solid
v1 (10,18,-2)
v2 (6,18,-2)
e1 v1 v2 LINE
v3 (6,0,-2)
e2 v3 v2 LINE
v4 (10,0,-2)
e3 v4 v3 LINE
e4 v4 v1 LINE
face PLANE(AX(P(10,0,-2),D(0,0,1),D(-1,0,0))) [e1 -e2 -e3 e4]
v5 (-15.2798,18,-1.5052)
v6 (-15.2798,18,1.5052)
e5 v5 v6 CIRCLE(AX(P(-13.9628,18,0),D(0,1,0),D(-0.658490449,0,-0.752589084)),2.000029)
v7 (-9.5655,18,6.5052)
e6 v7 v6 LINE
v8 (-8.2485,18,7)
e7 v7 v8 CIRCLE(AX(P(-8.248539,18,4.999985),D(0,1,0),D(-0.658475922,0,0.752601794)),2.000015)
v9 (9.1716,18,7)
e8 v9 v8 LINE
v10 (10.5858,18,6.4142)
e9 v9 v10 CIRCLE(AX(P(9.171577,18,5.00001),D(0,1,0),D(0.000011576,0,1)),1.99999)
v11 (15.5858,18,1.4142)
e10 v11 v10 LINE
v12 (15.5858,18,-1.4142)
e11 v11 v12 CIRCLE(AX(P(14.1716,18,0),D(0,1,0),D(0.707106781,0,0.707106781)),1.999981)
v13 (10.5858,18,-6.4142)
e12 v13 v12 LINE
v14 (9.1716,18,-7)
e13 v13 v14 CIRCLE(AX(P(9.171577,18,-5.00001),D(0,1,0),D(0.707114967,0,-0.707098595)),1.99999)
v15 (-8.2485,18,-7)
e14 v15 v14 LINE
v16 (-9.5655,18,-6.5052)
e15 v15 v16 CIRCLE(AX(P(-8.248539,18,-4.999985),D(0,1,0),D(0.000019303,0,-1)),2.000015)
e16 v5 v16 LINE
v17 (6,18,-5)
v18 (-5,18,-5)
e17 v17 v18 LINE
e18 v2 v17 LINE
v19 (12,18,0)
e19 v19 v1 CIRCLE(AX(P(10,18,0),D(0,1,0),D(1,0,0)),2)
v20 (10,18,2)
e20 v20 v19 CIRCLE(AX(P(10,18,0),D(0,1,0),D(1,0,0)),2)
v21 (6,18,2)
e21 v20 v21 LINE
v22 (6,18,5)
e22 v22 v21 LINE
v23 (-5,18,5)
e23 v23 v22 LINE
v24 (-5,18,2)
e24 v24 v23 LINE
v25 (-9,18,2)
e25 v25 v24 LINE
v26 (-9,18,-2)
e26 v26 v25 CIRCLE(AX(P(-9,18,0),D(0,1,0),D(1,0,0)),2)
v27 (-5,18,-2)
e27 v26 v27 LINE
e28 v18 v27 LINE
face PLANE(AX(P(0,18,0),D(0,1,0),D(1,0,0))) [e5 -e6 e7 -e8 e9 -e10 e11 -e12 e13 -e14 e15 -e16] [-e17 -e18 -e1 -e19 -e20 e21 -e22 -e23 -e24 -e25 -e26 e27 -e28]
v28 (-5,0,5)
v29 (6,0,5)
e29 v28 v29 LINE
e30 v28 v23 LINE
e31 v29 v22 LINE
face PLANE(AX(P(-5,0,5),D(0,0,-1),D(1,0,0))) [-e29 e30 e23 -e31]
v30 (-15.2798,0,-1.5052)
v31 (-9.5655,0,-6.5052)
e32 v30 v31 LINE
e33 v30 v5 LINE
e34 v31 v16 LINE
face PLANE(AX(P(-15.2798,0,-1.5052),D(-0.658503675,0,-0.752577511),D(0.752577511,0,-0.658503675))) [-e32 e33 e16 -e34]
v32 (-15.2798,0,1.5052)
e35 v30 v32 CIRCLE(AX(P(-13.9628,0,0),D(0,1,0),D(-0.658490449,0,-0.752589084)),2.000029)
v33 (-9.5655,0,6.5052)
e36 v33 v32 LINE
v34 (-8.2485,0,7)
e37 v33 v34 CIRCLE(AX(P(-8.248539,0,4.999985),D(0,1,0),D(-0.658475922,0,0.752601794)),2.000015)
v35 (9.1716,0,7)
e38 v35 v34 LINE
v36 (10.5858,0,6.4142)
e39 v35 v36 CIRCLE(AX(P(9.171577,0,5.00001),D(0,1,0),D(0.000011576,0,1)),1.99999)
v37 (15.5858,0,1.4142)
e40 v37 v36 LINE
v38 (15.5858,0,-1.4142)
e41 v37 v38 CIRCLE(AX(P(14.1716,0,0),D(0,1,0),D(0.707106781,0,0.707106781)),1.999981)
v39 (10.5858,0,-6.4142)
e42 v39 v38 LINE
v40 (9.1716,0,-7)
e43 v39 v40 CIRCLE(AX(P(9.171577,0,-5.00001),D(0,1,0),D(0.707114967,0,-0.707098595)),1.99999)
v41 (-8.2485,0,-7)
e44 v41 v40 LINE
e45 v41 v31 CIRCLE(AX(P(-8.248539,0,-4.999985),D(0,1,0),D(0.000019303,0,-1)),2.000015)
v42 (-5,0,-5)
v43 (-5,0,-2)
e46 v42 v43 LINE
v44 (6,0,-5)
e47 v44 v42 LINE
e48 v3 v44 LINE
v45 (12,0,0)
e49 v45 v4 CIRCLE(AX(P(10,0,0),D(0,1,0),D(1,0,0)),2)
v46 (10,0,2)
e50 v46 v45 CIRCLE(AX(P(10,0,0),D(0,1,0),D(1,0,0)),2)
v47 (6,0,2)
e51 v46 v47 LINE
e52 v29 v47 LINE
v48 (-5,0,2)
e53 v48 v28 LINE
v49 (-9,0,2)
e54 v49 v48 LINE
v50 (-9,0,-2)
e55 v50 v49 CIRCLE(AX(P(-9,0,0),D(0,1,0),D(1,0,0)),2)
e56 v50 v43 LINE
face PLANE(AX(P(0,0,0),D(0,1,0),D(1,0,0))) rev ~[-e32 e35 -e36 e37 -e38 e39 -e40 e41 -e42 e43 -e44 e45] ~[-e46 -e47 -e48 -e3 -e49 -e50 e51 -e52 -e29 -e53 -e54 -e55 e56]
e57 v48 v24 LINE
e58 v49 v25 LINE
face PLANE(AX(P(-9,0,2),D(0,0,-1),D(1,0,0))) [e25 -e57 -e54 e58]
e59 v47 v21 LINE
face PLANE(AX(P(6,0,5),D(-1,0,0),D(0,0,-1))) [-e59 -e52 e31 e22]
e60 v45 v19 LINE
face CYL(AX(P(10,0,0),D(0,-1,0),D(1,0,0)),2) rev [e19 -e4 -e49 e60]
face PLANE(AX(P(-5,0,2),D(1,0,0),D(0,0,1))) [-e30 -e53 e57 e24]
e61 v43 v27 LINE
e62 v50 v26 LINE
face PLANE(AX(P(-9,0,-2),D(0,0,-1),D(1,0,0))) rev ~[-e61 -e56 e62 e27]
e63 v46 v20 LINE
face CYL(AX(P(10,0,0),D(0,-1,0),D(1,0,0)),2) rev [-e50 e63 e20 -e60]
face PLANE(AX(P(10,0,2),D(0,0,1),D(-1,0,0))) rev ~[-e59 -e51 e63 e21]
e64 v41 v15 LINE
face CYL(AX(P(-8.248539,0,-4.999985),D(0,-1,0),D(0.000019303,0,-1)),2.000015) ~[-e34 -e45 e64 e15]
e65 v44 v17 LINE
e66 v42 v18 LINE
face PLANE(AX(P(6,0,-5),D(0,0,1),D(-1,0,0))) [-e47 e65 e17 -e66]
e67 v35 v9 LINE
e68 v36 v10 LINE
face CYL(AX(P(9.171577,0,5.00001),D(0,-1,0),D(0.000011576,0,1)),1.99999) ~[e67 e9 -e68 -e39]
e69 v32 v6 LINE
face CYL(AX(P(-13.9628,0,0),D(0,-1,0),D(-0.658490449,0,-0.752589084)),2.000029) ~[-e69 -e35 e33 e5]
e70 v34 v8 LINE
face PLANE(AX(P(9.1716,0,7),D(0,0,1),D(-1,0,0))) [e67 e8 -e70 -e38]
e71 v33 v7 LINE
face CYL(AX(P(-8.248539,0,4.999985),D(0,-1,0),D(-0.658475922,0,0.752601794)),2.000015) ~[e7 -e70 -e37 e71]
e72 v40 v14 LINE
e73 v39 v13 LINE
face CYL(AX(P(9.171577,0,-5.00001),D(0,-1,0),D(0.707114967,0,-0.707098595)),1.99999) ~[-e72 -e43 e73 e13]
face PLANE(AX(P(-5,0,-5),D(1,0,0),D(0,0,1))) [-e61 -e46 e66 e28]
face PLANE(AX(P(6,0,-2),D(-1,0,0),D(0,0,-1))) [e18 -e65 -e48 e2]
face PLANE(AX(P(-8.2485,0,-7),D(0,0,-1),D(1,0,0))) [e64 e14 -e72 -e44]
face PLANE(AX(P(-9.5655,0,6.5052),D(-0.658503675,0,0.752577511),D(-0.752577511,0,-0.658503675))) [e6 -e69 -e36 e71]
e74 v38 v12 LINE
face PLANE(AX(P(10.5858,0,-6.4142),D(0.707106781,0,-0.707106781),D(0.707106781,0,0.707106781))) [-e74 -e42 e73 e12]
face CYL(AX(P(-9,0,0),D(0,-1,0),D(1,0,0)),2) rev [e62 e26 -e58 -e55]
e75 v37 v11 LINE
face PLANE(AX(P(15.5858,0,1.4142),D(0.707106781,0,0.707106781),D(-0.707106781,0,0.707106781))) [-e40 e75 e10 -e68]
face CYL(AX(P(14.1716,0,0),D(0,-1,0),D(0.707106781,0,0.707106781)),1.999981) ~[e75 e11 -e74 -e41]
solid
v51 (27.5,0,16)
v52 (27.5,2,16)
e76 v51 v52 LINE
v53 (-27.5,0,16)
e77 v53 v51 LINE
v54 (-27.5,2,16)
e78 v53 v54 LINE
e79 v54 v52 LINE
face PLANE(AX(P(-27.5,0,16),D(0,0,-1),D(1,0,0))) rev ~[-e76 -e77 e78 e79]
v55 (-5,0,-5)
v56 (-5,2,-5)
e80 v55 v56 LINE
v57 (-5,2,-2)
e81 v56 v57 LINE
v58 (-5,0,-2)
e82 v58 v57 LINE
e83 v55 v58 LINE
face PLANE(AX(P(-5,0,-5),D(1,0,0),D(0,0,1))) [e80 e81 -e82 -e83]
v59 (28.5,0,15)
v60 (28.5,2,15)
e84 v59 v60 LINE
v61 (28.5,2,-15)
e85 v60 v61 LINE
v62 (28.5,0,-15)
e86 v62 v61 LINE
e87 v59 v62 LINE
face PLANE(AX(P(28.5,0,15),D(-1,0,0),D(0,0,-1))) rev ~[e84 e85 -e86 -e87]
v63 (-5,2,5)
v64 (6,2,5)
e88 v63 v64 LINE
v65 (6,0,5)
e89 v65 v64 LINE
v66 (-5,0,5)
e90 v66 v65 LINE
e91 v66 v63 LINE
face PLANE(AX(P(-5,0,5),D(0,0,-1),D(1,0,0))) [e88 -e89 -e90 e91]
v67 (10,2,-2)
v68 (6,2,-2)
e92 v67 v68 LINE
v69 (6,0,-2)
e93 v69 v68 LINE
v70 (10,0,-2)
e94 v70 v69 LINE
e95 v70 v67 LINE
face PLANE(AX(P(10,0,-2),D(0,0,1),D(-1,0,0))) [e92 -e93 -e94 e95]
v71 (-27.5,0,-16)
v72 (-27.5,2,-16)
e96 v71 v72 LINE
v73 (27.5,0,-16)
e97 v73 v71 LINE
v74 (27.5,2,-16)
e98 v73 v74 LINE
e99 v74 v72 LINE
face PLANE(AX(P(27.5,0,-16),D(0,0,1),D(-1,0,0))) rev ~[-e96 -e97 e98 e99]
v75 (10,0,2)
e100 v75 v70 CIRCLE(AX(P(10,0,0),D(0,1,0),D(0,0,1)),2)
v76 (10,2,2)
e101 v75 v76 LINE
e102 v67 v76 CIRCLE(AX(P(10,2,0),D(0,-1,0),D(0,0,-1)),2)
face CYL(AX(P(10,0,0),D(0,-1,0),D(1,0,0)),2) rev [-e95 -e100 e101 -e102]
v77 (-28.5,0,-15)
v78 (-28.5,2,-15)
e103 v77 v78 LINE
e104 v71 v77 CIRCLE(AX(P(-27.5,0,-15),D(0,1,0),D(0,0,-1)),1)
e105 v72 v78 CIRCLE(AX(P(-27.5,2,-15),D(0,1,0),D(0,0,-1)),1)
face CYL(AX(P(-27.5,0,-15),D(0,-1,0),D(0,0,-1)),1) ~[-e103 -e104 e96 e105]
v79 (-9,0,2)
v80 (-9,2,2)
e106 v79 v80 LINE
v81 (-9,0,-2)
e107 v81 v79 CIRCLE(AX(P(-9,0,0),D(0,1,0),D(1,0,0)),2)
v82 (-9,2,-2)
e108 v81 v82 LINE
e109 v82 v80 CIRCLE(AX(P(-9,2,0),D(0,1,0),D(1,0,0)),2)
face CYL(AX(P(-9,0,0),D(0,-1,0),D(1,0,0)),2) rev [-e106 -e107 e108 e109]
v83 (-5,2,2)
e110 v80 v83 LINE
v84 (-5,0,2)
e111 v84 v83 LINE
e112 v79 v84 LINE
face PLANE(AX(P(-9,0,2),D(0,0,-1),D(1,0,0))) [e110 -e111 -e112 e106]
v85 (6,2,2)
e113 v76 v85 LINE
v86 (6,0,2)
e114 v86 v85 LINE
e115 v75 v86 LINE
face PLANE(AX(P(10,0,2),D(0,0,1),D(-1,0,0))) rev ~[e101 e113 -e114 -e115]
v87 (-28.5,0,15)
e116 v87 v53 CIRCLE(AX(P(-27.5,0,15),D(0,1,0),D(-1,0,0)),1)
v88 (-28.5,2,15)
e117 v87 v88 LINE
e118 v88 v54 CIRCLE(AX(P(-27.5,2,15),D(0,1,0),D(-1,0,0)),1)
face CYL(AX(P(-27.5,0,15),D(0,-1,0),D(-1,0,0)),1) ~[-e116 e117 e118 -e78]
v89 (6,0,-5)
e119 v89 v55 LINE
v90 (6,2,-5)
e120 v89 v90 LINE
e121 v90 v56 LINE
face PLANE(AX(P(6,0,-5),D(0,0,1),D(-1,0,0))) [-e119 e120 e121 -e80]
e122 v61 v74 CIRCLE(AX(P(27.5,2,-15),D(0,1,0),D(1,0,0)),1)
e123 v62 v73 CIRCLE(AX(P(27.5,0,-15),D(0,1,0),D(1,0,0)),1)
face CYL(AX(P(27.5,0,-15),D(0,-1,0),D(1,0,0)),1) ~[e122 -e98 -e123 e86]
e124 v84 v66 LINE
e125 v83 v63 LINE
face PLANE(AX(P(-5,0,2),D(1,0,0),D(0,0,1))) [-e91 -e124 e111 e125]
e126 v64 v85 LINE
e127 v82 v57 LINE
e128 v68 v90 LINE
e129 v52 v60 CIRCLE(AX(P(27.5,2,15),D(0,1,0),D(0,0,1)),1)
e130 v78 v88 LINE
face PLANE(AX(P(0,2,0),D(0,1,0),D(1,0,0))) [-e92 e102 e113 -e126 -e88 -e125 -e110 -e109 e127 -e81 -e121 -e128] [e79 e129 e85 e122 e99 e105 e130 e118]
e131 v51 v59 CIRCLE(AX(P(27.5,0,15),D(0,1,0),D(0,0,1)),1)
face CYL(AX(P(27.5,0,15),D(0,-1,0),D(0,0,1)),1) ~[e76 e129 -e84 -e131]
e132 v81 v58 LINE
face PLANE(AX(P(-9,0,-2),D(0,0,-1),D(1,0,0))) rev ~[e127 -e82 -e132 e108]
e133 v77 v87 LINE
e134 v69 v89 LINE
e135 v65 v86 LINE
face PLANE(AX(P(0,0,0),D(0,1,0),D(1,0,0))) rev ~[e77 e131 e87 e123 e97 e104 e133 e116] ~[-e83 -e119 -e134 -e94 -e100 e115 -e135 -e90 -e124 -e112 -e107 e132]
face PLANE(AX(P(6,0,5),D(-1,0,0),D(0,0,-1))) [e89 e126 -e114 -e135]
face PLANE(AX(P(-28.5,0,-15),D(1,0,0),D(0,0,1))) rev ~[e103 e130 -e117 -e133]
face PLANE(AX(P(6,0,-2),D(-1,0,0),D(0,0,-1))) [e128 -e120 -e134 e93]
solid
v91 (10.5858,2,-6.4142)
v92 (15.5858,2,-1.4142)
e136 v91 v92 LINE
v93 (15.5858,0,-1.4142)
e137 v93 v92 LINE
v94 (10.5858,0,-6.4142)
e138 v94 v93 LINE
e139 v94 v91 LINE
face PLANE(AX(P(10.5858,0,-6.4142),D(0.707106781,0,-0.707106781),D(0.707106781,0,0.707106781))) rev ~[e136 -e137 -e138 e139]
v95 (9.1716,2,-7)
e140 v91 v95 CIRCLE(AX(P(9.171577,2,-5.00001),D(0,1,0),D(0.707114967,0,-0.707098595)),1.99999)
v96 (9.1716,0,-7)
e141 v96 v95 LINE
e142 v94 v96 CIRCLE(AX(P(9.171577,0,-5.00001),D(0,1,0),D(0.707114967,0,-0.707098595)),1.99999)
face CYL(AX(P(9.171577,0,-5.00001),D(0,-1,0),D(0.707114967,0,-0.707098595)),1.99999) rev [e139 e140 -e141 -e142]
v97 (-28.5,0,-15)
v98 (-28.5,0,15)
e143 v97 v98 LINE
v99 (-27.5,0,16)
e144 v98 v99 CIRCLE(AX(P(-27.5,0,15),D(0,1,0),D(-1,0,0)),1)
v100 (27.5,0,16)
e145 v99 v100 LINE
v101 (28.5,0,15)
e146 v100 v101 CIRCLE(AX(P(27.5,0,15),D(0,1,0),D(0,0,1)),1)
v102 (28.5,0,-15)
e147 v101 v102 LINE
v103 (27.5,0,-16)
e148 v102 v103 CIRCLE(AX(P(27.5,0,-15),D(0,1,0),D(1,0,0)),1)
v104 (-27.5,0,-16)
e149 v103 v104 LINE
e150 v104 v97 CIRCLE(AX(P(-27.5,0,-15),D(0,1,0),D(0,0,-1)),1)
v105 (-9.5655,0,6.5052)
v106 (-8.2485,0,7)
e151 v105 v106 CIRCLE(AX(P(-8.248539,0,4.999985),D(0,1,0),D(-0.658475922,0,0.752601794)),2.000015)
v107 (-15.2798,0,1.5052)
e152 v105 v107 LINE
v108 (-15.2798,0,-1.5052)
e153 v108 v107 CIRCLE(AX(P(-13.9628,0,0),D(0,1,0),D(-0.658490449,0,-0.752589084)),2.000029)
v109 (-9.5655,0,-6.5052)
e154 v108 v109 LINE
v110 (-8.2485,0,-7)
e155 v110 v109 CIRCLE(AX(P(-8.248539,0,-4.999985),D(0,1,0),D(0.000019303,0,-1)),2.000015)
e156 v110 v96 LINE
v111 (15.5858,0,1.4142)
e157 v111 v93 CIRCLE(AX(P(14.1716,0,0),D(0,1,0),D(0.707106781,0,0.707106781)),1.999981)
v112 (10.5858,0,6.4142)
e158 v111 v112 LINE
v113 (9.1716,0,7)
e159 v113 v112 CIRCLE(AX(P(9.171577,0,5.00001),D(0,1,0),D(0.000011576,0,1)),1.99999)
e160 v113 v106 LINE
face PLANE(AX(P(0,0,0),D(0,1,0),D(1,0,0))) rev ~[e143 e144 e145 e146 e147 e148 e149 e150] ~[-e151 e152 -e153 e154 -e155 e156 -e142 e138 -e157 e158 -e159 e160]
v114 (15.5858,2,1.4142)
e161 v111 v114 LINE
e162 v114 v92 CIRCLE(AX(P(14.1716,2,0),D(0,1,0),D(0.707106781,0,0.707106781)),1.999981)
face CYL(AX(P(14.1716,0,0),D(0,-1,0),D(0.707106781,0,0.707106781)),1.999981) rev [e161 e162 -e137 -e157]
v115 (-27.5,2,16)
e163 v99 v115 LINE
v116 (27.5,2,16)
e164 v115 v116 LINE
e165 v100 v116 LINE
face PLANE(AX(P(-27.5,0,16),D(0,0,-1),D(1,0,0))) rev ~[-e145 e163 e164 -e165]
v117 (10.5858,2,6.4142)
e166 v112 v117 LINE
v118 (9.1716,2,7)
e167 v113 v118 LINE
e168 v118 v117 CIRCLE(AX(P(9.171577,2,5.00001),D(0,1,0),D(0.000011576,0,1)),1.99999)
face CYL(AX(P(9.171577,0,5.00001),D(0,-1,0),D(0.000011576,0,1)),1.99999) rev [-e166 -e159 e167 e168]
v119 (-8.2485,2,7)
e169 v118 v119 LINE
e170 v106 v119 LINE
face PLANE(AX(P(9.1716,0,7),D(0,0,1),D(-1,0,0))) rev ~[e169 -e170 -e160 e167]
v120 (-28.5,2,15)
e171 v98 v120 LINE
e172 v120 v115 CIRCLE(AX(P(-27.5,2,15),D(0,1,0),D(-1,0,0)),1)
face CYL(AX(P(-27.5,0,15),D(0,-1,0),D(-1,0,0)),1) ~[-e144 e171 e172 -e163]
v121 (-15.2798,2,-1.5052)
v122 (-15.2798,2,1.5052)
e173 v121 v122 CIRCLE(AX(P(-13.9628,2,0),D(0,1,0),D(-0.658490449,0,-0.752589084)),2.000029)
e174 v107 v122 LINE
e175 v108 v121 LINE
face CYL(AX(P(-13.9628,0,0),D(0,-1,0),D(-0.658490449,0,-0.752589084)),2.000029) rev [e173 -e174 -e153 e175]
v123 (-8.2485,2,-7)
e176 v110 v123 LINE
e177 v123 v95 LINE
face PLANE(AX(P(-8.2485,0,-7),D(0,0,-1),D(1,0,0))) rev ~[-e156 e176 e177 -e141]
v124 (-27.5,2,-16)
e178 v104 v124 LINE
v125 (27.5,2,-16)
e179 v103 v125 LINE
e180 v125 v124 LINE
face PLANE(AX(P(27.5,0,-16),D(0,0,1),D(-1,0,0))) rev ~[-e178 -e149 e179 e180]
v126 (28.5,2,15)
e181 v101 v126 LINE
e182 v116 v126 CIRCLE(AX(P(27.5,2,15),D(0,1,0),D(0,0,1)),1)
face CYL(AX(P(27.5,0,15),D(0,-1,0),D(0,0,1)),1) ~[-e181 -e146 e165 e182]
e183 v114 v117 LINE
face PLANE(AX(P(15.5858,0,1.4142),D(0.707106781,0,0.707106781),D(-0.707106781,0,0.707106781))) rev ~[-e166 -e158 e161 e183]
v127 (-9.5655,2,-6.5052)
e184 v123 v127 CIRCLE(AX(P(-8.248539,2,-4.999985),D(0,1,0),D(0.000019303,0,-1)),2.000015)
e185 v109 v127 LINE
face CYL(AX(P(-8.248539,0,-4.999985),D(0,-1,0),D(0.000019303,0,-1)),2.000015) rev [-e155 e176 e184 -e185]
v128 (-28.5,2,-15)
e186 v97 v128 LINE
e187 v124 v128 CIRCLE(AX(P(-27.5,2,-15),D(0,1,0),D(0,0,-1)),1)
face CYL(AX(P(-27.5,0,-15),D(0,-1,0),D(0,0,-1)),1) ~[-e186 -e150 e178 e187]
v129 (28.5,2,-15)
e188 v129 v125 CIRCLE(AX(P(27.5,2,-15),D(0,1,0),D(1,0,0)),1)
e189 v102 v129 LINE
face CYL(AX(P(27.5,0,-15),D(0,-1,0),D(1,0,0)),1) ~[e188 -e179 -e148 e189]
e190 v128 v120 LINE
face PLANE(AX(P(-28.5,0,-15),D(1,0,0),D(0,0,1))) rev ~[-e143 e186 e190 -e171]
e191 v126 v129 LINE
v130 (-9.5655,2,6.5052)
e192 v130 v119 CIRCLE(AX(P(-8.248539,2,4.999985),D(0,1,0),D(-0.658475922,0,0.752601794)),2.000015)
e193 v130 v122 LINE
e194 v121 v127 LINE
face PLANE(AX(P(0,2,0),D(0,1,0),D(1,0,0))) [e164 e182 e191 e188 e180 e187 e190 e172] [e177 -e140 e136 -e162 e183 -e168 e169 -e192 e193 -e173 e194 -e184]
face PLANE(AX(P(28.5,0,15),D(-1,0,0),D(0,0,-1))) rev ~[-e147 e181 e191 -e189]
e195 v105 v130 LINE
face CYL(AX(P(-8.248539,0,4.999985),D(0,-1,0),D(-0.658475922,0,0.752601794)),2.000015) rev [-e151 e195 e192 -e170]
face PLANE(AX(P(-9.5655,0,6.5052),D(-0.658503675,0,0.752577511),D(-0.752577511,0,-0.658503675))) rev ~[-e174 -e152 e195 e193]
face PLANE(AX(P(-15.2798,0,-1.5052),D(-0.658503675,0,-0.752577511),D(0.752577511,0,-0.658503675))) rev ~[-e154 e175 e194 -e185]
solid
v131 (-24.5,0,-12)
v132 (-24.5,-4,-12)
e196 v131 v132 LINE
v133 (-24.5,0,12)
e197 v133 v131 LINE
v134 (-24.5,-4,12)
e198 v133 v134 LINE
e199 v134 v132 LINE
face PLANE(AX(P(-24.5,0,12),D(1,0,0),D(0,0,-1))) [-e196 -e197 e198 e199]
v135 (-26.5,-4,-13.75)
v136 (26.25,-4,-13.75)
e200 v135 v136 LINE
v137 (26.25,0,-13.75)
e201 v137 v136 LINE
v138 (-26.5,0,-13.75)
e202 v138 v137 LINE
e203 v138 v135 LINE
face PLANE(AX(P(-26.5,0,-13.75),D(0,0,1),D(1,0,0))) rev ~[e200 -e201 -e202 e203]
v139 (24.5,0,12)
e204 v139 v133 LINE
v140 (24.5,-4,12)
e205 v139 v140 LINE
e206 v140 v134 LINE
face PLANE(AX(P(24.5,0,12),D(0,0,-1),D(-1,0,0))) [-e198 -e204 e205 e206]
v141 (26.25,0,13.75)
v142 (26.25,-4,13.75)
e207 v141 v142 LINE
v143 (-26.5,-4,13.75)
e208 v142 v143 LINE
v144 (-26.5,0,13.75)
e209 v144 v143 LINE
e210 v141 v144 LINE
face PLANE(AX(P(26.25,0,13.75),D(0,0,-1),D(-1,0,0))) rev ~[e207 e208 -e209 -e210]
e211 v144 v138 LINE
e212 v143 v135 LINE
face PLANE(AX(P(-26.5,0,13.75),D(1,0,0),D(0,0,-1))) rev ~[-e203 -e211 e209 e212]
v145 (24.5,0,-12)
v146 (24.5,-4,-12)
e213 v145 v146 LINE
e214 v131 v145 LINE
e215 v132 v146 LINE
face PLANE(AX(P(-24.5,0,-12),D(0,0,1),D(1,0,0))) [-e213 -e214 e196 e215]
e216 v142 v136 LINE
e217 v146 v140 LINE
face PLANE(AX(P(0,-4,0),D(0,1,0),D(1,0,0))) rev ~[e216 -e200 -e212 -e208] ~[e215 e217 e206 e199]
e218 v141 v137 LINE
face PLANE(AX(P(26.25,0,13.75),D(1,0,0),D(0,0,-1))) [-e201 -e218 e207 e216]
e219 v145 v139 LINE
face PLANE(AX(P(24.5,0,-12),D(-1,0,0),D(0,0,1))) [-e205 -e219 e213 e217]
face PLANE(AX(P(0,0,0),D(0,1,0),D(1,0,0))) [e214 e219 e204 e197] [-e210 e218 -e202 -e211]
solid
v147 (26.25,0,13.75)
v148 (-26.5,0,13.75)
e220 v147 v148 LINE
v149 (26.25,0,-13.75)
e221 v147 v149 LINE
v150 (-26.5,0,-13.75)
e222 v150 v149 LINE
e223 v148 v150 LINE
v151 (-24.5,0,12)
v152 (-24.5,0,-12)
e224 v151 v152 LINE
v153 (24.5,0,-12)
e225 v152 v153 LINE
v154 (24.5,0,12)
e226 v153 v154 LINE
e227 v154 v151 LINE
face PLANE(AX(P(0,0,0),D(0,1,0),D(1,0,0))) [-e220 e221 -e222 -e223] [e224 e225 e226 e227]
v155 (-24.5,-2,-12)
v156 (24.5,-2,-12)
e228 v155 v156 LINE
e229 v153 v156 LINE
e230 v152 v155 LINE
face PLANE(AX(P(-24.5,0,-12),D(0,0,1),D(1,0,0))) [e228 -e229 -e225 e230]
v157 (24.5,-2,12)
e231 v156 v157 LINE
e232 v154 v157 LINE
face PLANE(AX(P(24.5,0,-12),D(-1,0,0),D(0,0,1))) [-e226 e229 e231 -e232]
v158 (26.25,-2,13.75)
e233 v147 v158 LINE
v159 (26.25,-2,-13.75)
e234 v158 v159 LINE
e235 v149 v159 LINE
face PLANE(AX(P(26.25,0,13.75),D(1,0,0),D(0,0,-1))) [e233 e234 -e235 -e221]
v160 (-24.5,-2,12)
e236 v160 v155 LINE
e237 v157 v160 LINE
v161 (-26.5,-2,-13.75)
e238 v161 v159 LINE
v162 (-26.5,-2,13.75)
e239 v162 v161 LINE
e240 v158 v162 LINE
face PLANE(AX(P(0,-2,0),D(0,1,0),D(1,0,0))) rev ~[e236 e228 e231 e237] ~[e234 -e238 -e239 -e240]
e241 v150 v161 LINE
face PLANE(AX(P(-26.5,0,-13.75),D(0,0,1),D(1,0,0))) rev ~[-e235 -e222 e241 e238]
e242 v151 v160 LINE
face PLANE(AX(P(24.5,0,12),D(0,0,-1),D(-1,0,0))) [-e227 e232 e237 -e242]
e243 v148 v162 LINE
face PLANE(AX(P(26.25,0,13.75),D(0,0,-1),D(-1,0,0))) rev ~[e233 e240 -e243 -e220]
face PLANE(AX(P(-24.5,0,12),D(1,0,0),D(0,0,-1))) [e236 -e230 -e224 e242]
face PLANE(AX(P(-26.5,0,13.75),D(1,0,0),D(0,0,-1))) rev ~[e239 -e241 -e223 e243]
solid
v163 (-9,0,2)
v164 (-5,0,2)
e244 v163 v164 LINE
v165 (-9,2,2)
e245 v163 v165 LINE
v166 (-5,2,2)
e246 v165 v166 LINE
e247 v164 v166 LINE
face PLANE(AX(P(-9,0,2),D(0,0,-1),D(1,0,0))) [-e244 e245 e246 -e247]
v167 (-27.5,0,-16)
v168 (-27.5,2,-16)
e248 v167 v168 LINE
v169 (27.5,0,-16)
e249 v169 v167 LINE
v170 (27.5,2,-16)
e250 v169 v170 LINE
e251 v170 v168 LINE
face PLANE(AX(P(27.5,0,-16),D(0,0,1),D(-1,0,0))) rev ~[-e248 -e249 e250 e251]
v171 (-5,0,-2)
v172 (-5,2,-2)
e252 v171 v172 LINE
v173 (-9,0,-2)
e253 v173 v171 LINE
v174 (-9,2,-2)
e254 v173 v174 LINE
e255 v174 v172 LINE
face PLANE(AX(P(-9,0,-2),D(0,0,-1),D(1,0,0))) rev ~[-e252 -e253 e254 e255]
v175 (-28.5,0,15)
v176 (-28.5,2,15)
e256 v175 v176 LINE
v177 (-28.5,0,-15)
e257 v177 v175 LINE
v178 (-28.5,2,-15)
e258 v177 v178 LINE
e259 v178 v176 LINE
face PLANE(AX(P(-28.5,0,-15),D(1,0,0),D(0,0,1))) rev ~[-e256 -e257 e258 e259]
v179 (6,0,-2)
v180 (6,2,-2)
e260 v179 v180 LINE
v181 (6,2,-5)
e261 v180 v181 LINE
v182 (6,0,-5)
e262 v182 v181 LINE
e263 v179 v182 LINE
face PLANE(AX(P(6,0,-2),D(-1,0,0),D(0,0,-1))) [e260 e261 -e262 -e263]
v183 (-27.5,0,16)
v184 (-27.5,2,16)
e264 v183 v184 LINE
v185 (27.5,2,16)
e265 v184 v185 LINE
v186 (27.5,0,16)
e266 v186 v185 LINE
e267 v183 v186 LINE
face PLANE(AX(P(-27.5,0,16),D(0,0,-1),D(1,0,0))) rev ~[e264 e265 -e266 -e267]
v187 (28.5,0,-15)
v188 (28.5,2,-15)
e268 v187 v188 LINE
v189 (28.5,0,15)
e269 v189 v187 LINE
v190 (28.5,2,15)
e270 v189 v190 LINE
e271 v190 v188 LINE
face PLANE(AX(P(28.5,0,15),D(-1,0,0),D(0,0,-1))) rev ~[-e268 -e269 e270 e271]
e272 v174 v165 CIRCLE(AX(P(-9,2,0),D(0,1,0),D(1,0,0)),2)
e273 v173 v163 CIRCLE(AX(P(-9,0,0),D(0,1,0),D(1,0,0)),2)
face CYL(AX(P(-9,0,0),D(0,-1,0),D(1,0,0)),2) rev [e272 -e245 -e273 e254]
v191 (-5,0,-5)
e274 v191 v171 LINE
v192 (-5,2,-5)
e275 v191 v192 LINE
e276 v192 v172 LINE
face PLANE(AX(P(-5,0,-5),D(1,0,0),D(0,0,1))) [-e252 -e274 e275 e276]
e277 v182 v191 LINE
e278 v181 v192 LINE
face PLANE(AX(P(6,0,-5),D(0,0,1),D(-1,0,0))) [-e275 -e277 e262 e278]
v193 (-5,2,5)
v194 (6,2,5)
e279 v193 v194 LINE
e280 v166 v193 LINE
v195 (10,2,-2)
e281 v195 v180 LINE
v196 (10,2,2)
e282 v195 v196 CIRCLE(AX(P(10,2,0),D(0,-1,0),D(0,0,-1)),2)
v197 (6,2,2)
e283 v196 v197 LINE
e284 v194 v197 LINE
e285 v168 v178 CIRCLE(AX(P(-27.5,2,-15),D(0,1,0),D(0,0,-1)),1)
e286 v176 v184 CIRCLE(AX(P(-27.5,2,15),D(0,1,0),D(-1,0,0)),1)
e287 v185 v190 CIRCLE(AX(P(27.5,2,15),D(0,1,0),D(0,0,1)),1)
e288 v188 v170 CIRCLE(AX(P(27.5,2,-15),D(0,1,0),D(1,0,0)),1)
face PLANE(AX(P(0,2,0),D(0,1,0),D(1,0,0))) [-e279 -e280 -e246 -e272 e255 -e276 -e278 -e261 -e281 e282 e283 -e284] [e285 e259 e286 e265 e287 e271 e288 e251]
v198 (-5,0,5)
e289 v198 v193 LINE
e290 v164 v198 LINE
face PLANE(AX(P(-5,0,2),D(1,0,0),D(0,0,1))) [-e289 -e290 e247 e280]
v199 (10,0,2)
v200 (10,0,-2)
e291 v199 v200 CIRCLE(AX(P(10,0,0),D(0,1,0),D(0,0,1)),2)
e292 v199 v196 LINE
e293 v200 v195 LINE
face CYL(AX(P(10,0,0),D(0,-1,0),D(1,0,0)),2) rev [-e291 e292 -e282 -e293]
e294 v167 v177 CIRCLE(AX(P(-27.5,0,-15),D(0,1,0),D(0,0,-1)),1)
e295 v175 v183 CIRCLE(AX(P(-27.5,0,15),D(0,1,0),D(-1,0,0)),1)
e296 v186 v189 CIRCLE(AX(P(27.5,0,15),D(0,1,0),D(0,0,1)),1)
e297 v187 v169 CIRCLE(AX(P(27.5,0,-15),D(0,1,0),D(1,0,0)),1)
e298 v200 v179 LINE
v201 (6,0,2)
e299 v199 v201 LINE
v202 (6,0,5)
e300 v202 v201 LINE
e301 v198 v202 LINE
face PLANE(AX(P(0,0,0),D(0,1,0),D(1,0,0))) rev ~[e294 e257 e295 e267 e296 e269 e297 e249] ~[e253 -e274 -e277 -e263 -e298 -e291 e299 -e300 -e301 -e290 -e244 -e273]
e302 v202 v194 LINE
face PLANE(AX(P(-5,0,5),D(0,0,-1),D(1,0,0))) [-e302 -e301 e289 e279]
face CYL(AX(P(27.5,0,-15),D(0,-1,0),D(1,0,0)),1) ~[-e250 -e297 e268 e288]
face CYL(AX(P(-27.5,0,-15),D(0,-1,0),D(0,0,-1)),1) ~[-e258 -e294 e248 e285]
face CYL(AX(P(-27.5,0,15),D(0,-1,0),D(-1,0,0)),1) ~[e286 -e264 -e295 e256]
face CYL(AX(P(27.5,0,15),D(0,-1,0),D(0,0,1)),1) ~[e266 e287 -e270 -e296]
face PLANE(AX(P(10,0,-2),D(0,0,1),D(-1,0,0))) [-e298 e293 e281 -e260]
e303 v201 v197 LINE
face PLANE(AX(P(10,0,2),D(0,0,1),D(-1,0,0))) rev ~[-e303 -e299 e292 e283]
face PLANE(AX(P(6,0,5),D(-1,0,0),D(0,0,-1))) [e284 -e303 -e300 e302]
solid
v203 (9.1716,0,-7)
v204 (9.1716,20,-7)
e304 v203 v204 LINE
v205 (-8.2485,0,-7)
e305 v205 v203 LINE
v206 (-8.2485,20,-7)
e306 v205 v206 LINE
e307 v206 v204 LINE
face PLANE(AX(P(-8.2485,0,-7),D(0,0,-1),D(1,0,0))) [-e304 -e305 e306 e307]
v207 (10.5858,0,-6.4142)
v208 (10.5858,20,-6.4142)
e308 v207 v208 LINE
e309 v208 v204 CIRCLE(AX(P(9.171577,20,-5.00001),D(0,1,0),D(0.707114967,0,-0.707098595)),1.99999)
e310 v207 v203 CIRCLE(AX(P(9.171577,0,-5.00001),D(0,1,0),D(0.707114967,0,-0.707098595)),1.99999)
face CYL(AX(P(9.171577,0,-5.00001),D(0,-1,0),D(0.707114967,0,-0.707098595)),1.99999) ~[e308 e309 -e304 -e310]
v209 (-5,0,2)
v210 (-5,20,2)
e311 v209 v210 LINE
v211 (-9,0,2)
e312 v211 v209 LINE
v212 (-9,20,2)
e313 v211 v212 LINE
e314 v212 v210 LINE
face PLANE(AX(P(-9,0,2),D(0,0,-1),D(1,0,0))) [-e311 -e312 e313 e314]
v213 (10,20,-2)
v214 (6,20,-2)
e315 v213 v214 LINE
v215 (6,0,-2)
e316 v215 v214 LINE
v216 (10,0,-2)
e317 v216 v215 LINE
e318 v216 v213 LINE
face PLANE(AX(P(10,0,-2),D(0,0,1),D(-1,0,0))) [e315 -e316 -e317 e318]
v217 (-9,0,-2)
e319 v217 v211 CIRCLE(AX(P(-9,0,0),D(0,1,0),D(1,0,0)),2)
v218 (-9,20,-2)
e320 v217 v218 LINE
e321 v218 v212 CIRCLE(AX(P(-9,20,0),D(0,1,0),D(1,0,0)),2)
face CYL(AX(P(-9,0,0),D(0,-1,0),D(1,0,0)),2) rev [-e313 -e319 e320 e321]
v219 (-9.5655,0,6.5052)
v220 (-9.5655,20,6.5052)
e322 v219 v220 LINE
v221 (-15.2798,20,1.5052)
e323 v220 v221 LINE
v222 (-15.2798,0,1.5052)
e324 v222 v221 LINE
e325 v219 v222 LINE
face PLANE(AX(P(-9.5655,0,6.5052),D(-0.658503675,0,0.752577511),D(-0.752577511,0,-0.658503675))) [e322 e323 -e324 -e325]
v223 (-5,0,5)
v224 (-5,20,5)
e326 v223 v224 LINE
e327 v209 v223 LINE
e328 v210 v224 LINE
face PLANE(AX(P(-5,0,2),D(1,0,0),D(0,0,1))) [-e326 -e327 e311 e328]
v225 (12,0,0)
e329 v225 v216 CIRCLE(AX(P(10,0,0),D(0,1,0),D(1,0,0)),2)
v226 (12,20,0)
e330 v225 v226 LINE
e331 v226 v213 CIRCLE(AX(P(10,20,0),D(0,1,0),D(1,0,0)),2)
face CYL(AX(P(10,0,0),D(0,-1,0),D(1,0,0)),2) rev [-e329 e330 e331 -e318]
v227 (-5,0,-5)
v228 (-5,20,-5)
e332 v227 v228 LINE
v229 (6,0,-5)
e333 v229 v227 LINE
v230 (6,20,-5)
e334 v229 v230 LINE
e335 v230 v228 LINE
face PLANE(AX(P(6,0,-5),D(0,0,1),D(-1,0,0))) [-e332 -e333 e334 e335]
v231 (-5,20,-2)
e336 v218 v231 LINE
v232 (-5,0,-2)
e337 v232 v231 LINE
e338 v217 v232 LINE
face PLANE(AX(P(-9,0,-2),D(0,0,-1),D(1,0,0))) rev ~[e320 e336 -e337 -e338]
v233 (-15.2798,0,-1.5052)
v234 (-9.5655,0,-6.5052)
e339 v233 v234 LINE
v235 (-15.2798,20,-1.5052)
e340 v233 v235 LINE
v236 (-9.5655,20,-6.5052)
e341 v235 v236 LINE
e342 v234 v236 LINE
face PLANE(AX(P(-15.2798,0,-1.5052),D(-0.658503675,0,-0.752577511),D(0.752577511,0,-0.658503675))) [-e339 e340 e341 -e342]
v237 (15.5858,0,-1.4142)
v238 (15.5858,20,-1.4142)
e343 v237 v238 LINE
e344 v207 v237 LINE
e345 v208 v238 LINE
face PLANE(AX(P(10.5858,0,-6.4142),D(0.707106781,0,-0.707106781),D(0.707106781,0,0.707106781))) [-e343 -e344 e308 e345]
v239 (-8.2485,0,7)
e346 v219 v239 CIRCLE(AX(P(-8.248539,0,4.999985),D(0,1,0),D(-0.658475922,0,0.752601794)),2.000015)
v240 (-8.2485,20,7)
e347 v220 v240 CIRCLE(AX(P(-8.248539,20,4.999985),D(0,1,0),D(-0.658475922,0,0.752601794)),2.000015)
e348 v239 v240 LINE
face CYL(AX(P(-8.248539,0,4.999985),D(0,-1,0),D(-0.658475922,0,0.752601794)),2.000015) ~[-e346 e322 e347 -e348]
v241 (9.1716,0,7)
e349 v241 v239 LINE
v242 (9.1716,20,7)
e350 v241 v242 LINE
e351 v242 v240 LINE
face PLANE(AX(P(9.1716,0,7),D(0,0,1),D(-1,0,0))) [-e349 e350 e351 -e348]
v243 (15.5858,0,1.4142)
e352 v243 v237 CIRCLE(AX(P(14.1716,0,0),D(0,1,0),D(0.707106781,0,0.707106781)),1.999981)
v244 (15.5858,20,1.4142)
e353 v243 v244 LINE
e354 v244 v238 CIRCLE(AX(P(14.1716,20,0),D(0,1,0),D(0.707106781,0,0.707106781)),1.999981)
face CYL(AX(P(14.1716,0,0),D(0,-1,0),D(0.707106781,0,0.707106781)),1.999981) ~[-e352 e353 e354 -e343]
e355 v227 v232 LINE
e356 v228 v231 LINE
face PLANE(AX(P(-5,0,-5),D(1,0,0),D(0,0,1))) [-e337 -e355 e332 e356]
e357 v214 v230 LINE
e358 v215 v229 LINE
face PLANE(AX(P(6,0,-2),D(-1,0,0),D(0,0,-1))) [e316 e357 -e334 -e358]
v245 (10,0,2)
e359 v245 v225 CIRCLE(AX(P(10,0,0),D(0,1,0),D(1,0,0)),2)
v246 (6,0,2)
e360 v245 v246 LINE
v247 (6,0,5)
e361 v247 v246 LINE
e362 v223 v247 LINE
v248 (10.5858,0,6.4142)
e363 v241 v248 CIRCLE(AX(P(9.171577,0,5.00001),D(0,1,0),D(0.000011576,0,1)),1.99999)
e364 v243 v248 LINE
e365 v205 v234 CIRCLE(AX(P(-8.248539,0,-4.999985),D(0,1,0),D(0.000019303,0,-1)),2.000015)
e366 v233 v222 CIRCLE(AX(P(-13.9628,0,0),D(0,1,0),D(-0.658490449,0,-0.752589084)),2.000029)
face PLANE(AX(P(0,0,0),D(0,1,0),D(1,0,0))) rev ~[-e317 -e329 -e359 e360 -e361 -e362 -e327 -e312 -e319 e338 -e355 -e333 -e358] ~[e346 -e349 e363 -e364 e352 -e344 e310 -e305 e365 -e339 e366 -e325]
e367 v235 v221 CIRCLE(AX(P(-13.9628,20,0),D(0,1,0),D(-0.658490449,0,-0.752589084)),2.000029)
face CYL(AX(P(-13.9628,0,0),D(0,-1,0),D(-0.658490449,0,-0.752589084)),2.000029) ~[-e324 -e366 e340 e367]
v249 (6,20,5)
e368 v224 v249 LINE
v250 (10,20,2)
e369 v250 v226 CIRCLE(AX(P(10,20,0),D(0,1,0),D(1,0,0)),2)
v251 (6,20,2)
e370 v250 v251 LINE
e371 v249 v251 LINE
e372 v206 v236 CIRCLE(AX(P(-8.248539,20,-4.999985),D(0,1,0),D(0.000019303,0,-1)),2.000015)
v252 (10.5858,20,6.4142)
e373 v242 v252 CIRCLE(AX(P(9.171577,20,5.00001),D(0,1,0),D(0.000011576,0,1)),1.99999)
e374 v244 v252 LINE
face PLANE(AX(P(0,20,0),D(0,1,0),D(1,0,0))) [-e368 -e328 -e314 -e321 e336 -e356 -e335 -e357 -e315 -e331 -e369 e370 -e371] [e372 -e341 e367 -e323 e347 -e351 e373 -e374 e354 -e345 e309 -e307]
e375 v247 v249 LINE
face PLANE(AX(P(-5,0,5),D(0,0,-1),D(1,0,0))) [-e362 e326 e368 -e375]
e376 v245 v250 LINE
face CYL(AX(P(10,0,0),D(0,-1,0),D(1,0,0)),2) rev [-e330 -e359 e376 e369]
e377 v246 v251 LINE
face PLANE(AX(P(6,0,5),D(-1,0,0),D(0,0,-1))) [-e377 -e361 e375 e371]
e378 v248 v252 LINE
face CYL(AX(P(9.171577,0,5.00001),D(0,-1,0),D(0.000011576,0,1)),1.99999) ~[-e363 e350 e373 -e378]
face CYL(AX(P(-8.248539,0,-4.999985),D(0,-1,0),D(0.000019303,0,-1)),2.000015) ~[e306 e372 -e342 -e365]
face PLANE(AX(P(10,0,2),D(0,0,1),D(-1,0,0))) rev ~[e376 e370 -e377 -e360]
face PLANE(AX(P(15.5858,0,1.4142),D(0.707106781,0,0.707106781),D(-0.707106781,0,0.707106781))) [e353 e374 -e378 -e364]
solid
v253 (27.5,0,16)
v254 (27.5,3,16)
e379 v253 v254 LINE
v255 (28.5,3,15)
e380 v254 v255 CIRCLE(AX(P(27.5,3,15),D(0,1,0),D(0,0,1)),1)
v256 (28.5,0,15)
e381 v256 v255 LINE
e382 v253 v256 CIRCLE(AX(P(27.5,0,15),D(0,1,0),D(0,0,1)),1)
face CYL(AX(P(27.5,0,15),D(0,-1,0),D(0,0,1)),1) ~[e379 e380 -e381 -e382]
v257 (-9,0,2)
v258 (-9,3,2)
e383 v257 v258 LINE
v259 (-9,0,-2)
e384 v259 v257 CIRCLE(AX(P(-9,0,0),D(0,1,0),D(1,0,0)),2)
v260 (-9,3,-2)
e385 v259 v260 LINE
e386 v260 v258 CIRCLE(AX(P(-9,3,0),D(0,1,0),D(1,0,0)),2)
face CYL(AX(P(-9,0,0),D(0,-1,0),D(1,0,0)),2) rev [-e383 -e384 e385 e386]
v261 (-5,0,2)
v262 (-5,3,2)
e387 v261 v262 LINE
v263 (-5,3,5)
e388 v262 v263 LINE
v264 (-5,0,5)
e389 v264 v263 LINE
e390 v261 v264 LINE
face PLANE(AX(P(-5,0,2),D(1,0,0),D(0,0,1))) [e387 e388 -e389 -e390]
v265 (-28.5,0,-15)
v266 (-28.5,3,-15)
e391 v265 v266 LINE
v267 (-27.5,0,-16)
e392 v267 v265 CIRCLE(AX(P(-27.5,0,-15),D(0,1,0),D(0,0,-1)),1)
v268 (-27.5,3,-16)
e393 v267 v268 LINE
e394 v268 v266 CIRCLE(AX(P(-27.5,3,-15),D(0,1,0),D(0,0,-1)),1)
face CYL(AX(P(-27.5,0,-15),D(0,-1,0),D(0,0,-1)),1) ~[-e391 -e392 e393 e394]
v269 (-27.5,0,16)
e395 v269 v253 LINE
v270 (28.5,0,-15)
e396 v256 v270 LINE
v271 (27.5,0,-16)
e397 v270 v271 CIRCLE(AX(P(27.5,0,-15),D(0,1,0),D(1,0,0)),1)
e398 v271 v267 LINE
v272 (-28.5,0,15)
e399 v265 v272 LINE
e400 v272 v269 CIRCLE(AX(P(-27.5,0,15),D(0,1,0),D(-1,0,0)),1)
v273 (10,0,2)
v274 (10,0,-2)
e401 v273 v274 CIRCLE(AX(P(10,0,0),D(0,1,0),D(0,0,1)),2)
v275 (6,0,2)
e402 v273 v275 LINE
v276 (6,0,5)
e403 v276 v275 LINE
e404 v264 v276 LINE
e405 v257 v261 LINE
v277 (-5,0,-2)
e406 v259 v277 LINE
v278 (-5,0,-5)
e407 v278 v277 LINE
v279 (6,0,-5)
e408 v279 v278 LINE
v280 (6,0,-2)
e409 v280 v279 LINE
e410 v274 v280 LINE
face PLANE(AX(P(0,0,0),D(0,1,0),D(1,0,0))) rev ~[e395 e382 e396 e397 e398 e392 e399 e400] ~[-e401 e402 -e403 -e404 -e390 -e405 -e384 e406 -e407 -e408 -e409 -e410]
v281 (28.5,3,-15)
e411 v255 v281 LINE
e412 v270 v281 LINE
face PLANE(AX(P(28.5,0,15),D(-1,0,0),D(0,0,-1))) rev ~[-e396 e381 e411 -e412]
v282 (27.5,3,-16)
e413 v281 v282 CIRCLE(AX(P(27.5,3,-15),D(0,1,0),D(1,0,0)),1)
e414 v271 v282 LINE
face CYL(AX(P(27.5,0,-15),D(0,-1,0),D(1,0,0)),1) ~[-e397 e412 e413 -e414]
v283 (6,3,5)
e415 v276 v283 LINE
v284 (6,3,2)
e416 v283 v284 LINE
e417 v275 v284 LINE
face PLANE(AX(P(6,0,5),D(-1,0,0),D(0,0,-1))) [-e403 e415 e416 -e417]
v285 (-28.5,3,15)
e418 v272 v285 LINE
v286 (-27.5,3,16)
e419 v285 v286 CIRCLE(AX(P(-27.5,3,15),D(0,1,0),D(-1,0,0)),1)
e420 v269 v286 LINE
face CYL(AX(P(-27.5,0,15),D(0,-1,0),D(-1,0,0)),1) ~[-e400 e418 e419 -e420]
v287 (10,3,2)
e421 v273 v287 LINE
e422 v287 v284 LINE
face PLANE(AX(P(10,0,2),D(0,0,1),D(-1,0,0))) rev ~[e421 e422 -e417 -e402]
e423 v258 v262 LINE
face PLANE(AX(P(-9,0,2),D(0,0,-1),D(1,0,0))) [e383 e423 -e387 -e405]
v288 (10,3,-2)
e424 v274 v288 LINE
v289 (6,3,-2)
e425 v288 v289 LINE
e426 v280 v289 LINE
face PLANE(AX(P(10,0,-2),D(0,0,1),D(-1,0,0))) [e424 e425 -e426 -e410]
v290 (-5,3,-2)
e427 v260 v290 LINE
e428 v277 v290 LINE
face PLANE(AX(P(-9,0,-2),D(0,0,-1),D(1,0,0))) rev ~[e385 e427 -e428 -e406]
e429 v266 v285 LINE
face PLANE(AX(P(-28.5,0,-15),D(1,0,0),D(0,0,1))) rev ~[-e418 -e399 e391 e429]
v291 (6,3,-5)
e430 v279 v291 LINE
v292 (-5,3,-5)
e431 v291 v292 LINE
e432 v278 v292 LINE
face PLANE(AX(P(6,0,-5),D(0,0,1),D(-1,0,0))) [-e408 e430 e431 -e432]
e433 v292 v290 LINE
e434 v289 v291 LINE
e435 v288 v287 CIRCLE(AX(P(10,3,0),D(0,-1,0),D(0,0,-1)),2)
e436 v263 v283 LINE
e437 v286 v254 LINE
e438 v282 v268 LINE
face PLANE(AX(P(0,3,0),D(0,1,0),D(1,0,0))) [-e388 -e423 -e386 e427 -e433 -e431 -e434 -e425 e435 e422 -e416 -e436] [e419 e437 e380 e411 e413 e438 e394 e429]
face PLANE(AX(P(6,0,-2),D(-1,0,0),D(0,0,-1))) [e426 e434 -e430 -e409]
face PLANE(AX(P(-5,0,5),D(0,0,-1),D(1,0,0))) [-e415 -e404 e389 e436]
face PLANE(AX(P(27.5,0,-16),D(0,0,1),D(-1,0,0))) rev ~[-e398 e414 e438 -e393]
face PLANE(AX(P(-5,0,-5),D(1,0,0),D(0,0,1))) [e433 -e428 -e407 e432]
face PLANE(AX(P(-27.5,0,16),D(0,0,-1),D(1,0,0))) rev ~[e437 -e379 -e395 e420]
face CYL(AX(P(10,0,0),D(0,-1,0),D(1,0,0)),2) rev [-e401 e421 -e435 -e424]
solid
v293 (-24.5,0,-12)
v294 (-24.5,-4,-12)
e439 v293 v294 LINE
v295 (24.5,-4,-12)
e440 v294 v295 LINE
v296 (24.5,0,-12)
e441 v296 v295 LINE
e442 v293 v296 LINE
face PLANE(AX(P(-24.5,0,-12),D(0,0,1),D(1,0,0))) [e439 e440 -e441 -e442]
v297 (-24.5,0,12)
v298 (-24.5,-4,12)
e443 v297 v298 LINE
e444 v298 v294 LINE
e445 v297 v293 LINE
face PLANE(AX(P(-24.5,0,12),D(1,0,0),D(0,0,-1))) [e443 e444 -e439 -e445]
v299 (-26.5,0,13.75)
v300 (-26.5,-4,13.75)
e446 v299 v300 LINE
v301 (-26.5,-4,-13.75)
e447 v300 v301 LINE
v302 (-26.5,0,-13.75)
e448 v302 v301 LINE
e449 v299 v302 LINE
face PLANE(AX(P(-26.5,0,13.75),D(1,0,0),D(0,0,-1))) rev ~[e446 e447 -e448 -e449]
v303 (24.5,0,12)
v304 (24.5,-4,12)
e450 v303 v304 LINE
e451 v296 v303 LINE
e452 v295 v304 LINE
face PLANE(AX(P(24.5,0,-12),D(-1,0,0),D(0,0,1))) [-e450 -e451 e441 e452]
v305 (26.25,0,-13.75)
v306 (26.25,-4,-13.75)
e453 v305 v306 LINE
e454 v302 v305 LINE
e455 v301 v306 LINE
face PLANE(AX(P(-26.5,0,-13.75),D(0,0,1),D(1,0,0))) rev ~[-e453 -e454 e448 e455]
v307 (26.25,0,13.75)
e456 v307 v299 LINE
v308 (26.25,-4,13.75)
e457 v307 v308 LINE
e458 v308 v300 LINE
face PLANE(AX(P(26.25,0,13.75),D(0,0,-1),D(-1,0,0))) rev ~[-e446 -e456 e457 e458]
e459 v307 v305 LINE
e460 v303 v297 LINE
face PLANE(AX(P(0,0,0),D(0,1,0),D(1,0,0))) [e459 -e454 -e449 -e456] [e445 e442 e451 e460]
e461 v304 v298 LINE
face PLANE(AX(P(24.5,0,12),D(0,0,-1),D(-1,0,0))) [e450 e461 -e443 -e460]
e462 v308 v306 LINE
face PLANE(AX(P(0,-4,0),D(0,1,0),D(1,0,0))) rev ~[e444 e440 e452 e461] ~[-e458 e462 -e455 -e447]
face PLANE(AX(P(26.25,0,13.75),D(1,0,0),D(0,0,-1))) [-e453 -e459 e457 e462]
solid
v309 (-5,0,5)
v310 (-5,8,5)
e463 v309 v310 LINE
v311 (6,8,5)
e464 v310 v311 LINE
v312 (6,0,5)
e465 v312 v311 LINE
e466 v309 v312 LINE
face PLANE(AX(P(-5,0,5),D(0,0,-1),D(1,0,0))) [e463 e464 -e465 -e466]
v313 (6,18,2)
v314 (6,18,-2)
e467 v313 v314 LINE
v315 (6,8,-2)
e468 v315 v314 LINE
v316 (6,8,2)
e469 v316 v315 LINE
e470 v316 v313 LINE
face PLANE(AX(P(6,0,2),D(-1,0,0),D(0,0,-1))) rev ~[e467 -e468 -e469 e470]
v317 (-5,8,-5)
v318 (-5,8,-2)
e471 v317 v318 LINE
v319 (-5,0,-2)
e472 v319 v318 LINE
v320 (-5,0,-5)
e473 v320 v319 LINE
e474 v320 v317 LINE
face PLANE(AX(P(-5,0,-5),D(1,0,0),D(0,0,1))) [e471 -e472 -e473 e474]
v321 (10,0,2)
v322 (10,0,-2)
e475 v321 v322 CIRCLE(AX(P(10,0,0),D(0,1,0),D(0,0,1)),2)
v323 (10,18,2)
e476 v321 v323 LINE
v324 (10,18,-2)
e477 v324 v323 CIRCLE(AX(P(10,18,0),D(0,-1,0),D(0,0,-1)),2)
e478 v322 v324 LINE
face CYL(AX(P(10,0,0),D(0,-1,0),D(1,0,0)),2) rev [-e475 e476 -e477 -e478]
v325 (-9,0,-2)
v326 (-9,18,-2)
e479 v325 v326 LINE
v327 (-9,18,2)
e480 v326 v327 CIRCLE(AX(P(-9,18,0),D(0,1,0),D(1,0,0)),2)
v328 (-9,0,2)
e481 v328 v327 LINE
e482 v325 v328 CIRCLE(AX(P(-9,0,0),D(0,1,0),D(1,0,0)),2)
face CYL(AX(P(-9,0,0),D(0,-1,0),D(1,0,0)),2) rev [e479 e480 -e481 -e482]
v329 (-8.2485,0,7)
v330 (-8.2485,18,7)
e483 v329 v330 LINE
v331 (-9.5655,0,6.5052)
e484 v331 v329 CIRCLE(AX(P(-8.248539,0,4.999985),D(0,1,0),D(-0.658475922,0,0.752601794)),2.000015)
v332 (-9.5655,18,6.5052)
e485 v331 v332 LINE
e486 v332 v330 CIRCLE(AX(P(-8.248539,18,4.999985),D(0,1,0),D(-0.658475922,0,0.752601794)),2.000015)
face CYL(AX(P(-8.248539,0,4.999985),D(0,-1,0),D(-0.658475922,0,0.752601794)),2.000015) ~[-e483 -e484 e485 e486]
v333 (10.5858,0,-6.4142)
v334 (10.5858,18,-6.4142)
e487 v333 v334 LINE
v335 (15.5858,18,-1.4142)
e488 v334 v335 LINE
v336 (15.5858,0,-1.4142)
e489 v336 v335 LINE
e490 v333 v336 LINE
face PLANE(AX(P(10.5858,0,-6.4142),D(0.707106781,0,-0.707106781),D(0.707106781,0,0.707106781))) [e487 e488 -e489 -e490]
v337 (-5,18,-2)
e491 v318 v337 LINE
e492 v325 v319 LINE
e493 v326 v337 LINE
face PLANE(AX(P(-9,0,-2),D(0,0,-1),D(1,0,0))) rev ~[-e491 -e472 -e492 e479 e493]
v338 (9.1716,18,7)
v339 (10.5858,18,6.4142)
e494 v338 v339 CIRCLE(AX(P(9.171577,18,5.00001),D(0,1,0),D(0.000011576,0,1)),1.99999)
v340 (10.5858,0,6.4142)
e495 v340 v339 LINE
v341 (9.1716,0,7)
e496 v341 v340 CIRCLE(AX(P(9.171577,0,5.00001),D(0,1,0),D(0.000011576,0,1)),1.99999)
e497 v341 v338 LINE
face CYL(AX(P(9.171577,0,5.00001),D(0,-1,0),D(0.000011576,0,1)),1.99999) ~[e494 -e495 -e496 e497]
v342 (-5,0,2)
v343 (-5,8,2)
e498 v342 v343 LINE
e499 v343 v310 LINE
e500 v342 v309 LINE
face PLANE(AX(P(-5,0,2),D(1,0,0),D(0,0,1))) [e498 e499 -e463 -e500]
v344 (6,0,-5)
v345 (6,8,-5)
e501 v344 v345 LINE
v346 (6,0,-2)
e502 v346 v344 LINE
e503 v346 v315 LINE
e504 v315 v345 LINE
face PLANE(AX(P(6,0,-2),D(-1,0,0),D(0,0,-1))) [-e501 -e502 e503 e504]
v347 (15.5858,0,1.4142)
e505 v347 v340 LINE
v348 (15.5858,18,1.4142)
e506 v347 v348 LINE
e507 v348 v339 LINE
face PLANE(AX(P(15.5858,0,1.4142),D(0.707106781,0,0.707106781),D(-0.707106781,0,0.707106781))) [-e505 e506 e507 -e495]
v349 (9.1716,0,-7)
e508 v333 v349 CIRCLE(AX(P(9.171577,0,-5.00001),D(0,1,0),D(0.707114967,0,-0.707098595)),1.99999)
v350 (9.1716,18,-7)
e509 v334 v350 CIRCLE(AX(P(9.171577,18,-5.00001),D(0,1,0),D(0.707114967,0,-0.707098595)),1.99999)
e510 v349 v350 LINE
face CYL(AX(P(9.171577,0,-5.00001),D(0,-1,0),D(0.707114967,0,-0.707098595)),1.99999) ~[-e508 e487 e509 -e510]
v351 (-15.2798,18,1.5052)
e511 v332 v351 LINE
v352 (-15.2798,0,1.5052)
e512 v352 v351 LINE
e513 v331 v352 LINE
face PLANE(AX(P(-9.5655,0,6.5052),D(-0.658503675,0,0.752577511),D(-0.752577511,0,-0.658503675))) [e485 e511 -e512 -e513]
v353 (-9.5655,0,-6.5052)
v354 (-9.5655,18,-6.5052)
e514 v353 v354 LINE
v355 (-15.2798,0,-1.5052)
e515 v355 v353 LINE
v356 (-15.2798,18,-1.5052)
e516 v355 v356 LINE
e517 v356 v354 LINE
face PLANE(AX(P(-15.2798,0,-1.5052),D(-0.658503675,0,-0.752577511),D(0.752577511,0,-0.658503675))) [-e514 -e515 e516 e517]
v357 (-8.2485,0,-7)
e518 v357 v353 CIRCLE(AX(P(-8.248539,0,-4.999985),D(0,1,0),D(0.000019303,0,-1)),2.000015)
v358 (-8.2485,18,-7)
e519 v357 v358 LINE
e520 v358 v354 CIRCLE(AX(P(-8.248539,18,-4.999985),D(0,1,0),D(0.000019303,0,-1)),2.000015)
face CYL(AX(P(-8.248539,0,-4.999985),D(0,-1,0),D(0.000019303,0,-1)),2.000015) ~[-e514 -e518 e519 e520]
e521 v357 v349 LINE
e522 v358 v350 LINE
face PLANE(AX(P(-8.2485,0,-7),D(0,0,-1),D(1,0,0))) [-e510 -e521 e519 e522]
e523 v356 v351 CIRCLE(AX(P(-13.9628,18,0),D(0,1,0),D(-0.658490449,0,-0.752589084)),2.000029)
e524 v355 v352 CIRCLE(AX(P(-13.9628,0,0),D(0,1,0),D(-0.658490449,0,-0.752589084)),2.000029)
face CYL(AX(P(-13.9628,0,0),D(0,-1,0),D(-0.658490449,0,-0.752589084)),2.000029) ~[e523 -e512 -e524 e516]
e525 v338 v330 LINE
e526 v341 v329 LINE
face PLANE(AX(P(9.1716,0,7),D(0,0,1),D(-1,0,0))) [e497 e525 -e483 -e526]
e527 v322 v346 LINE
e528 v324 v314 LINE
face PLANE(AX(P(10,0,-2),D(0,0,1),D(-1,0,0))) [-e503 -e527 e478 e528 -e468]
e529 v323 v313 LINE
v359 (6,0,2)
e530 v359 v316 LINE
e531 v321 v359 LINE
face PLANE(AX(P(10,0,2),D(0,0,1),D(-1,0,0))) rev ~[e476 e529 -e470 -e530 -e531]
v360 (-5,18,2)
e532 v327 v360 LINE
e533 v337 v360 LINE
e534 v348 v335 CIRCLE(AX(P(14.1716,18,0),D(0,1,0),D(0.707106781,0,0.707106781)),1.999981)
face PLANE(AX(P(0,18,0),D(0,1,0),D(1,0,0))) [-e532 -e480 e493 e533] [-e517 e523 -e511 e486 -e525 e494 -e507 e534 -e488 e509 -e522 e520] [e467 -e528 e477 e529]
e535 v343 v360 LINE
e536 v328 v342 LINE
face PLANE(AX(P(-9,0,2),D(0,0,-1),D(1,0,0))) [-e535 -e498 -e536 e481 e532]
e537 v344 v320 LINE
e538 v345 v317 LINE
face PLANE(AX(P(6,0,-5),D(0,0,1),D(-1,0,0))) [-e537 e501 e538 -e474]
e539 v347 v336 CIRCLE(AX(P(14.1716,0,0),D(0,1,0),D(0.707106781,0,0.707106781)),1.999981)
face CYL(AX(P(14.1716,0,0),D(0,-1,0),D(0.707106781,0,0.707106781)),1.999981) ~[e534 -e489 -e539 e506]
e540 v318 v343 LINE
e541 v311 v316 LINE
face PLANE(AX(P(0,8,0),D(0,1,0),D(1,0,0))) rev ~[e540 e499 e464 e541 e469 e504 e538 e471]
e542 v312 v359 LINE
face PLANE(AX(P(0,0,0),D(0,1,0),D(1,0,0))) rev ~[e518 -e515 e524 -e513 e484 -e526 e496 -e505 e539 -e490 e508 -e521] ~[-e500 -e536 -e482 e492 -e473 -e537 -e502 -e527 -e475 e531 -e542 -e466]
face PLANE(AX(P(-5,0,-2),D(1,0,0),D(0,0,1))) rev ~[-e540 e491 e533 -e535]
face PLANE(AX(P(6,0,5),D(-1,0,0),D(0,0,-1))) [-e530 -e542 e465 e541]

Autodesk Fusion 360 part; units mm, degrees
sketch "Esquisse1" plane through (0, 0, 0) normal (0, 1, 0) x (1, 0, 0)
  circle A0 centre (-9, 0) radius 2
  circle A1 centre (10, 0) radius 2
  line L0 (15.5858, -1.4142) -> (10.5858, -6.4142)
  line L1 (9.1716, -7) -> (-8.2485, -7)
  line L2 (-9.5655, -6.5052) -> (-15.2798, -1.5052)
  line L3 (-15.2798, 1.5052) -> (-9.5655, 6.5052)
  line L4 (-8.2485, 7) -> (9.1716, 7)
  line L5 (10.5858, 6.4142) -> (15.5858, 1.4142)
  line L6 (-27.5, -16) -> (27.5, -16)
  line L7 (27.5, 16) -> (-27.5, 16)
  line L8 (-28.5, 15) -> (-28.5, -15)
  line L9 (-5, -5) -> (6, -5)
  line L10 (6, -5) -> (6, 5)
  line L11 (6, 5) -> (-5, 5)
  line L12 (-5, 5) -> (-5, -5)
  line L13 (26.25, -13.75) -> (-26.5, -13.75)
  line L14 (-26.5, -13.75) -> (-26.5, 13.75)
  line L15 (-26.5, 13.75) -> (26.25, 13.75)
  line L16 (24.5, -12) -> (-24.5, -12)
  line L17 (-24.5, -12) -> (-24.5, 12)
  line L18 (-24.5, 12) -> (24.5, 12)
  line L19 (24.5, 12) -> (24.5, -12)
  line L20 (26.25, -13.75) -> (26.25, 13.75)
  line L21 (28.5, -15) -> (28.5, 15)
  arc A2 (-15.2798, 1.5052) -> (-15.2798, -1.5052) centre (-13.9628, 0) ccw
  arc A3 (-8.2485, 7) -> (-9.5655, 6.5052) centre (-8.2485, 5) ccw
  arc A4 (10.5858, 6.4142) -> (9.1716, 7) centre (9.1716, 5) ccw
  arc A5 (15.5858, -1.4142) -> (15.5858, 1.4142) centre (14.1716, 0) ccw
  arc A6 (9.1716, -7) -> (10.5858, -6.4142) centre (9.1716, -5) ccw
  arc A7 (-9.5655, -6.5052) -> (-8.2485, -7) centre (-8.2485, -5) ccw
  line L22 (-9, 2) -> (-5, 2)
  line L23 (-9, -2) -> (-5, -2)
  line L24 (10, 2) -> (6, 2)
  line L25 (10, -2) -> (6, -2)
  arc A8 (-27.5, 16) -> (-28.5, 15) centre (-27.5, 15) ccw
  arc A9 (28.5, 15) -> (27.5, 16) centre (27.5, 15) ccw
  arc A10 (27.5, -16) -> (28.5, -15) centre (27.5, -15) ccw
  arc A11 (-28.5, -15) -> (-27.5, -16) centre (-27.5, -15) ccw
  dimension "d24" = 1
  dimension "d25" = 1
  dimension "d26" = 1
extrude "Extrusion1" add sketch "Esquisse1" against normal blind 4 contours L13 L14 L15 L20 makes body 1
extrude "Extrusion2" add sketch "Esquisse1" along normal blind 2 separate body contours L0 L1 L2 L3 L4 L5 A2 A3 A4 A5 A6 A7 | L6 L7 L8 L21 A8 A9 A10 A11 | L13 L14 L15 L20 | L16 L17 L18 L19 makes body 2
extrude "Extrusion3" add sketch "Esquisse1" along normal blind 18 separate body contours L9 L10 L11 L12 | L0 L1 L2 L3 L4 L5 A2 A3 A4 A5 A6 A7 makes body 3
extrude "Extrusion4" add sketch "Esquisse1" against normal blind 4 separate body contours L13 L14 L15 L20 makes body 4
extrude "Extrusion5" add sketch "Esquisse1" along normal blind 2 separate body contours L0 L1 L2 L3 L4 L5 A2 A3 A4 A5 A6 A7 | L6 L7 L8 L21 A8 A9 A10 A11 | L13 L14 L15 L20 | L16 L17 L18 L19 makes body 5
extrude "Extrusion6" add sketch "Esquisse1" along normal blind 2 separate body contours L6 L7 L8 L21 A8 A9 A10 A11 | L13 L14 L15 L20 | L16 L17 L18 L19 makes body 6
extrude "Extrusion7" add sketch "Esquisse1" along normal blind 20 separate body contours L0 L1 L2 L3 L4 L5 A2 A3 A4 A5 A6 A7 makes body 7
extrude "Extrusion8" add sketch "Esquisse1" against normal blind 2 separate body contours L13 L14 L15 L20 makes body 8
extrude "Extrusion9" add sketch "Esquisse1" along normal blind 3 separate body contours L0 L1 L2 L3 L4 L5 A2 A3 A4 A5 A6 A7 | L6 L7 L8 L21 A8 A9 A10 A11 | L13 L14 L15 L20 | L16 L17 L18 L19 makes body 9
extrude "Extrusion10" add sketch "Esquisse1" along normal blind 18 separate body contours L0 L1 L2 L3 L4 L5 A2 A3 A4 A5 A6 A7 makes body 10
extrude "Extrusion11" cut sketch "Esquisse1" along normal blind 8 contours L9 L10 L11 L12 bodies 3
